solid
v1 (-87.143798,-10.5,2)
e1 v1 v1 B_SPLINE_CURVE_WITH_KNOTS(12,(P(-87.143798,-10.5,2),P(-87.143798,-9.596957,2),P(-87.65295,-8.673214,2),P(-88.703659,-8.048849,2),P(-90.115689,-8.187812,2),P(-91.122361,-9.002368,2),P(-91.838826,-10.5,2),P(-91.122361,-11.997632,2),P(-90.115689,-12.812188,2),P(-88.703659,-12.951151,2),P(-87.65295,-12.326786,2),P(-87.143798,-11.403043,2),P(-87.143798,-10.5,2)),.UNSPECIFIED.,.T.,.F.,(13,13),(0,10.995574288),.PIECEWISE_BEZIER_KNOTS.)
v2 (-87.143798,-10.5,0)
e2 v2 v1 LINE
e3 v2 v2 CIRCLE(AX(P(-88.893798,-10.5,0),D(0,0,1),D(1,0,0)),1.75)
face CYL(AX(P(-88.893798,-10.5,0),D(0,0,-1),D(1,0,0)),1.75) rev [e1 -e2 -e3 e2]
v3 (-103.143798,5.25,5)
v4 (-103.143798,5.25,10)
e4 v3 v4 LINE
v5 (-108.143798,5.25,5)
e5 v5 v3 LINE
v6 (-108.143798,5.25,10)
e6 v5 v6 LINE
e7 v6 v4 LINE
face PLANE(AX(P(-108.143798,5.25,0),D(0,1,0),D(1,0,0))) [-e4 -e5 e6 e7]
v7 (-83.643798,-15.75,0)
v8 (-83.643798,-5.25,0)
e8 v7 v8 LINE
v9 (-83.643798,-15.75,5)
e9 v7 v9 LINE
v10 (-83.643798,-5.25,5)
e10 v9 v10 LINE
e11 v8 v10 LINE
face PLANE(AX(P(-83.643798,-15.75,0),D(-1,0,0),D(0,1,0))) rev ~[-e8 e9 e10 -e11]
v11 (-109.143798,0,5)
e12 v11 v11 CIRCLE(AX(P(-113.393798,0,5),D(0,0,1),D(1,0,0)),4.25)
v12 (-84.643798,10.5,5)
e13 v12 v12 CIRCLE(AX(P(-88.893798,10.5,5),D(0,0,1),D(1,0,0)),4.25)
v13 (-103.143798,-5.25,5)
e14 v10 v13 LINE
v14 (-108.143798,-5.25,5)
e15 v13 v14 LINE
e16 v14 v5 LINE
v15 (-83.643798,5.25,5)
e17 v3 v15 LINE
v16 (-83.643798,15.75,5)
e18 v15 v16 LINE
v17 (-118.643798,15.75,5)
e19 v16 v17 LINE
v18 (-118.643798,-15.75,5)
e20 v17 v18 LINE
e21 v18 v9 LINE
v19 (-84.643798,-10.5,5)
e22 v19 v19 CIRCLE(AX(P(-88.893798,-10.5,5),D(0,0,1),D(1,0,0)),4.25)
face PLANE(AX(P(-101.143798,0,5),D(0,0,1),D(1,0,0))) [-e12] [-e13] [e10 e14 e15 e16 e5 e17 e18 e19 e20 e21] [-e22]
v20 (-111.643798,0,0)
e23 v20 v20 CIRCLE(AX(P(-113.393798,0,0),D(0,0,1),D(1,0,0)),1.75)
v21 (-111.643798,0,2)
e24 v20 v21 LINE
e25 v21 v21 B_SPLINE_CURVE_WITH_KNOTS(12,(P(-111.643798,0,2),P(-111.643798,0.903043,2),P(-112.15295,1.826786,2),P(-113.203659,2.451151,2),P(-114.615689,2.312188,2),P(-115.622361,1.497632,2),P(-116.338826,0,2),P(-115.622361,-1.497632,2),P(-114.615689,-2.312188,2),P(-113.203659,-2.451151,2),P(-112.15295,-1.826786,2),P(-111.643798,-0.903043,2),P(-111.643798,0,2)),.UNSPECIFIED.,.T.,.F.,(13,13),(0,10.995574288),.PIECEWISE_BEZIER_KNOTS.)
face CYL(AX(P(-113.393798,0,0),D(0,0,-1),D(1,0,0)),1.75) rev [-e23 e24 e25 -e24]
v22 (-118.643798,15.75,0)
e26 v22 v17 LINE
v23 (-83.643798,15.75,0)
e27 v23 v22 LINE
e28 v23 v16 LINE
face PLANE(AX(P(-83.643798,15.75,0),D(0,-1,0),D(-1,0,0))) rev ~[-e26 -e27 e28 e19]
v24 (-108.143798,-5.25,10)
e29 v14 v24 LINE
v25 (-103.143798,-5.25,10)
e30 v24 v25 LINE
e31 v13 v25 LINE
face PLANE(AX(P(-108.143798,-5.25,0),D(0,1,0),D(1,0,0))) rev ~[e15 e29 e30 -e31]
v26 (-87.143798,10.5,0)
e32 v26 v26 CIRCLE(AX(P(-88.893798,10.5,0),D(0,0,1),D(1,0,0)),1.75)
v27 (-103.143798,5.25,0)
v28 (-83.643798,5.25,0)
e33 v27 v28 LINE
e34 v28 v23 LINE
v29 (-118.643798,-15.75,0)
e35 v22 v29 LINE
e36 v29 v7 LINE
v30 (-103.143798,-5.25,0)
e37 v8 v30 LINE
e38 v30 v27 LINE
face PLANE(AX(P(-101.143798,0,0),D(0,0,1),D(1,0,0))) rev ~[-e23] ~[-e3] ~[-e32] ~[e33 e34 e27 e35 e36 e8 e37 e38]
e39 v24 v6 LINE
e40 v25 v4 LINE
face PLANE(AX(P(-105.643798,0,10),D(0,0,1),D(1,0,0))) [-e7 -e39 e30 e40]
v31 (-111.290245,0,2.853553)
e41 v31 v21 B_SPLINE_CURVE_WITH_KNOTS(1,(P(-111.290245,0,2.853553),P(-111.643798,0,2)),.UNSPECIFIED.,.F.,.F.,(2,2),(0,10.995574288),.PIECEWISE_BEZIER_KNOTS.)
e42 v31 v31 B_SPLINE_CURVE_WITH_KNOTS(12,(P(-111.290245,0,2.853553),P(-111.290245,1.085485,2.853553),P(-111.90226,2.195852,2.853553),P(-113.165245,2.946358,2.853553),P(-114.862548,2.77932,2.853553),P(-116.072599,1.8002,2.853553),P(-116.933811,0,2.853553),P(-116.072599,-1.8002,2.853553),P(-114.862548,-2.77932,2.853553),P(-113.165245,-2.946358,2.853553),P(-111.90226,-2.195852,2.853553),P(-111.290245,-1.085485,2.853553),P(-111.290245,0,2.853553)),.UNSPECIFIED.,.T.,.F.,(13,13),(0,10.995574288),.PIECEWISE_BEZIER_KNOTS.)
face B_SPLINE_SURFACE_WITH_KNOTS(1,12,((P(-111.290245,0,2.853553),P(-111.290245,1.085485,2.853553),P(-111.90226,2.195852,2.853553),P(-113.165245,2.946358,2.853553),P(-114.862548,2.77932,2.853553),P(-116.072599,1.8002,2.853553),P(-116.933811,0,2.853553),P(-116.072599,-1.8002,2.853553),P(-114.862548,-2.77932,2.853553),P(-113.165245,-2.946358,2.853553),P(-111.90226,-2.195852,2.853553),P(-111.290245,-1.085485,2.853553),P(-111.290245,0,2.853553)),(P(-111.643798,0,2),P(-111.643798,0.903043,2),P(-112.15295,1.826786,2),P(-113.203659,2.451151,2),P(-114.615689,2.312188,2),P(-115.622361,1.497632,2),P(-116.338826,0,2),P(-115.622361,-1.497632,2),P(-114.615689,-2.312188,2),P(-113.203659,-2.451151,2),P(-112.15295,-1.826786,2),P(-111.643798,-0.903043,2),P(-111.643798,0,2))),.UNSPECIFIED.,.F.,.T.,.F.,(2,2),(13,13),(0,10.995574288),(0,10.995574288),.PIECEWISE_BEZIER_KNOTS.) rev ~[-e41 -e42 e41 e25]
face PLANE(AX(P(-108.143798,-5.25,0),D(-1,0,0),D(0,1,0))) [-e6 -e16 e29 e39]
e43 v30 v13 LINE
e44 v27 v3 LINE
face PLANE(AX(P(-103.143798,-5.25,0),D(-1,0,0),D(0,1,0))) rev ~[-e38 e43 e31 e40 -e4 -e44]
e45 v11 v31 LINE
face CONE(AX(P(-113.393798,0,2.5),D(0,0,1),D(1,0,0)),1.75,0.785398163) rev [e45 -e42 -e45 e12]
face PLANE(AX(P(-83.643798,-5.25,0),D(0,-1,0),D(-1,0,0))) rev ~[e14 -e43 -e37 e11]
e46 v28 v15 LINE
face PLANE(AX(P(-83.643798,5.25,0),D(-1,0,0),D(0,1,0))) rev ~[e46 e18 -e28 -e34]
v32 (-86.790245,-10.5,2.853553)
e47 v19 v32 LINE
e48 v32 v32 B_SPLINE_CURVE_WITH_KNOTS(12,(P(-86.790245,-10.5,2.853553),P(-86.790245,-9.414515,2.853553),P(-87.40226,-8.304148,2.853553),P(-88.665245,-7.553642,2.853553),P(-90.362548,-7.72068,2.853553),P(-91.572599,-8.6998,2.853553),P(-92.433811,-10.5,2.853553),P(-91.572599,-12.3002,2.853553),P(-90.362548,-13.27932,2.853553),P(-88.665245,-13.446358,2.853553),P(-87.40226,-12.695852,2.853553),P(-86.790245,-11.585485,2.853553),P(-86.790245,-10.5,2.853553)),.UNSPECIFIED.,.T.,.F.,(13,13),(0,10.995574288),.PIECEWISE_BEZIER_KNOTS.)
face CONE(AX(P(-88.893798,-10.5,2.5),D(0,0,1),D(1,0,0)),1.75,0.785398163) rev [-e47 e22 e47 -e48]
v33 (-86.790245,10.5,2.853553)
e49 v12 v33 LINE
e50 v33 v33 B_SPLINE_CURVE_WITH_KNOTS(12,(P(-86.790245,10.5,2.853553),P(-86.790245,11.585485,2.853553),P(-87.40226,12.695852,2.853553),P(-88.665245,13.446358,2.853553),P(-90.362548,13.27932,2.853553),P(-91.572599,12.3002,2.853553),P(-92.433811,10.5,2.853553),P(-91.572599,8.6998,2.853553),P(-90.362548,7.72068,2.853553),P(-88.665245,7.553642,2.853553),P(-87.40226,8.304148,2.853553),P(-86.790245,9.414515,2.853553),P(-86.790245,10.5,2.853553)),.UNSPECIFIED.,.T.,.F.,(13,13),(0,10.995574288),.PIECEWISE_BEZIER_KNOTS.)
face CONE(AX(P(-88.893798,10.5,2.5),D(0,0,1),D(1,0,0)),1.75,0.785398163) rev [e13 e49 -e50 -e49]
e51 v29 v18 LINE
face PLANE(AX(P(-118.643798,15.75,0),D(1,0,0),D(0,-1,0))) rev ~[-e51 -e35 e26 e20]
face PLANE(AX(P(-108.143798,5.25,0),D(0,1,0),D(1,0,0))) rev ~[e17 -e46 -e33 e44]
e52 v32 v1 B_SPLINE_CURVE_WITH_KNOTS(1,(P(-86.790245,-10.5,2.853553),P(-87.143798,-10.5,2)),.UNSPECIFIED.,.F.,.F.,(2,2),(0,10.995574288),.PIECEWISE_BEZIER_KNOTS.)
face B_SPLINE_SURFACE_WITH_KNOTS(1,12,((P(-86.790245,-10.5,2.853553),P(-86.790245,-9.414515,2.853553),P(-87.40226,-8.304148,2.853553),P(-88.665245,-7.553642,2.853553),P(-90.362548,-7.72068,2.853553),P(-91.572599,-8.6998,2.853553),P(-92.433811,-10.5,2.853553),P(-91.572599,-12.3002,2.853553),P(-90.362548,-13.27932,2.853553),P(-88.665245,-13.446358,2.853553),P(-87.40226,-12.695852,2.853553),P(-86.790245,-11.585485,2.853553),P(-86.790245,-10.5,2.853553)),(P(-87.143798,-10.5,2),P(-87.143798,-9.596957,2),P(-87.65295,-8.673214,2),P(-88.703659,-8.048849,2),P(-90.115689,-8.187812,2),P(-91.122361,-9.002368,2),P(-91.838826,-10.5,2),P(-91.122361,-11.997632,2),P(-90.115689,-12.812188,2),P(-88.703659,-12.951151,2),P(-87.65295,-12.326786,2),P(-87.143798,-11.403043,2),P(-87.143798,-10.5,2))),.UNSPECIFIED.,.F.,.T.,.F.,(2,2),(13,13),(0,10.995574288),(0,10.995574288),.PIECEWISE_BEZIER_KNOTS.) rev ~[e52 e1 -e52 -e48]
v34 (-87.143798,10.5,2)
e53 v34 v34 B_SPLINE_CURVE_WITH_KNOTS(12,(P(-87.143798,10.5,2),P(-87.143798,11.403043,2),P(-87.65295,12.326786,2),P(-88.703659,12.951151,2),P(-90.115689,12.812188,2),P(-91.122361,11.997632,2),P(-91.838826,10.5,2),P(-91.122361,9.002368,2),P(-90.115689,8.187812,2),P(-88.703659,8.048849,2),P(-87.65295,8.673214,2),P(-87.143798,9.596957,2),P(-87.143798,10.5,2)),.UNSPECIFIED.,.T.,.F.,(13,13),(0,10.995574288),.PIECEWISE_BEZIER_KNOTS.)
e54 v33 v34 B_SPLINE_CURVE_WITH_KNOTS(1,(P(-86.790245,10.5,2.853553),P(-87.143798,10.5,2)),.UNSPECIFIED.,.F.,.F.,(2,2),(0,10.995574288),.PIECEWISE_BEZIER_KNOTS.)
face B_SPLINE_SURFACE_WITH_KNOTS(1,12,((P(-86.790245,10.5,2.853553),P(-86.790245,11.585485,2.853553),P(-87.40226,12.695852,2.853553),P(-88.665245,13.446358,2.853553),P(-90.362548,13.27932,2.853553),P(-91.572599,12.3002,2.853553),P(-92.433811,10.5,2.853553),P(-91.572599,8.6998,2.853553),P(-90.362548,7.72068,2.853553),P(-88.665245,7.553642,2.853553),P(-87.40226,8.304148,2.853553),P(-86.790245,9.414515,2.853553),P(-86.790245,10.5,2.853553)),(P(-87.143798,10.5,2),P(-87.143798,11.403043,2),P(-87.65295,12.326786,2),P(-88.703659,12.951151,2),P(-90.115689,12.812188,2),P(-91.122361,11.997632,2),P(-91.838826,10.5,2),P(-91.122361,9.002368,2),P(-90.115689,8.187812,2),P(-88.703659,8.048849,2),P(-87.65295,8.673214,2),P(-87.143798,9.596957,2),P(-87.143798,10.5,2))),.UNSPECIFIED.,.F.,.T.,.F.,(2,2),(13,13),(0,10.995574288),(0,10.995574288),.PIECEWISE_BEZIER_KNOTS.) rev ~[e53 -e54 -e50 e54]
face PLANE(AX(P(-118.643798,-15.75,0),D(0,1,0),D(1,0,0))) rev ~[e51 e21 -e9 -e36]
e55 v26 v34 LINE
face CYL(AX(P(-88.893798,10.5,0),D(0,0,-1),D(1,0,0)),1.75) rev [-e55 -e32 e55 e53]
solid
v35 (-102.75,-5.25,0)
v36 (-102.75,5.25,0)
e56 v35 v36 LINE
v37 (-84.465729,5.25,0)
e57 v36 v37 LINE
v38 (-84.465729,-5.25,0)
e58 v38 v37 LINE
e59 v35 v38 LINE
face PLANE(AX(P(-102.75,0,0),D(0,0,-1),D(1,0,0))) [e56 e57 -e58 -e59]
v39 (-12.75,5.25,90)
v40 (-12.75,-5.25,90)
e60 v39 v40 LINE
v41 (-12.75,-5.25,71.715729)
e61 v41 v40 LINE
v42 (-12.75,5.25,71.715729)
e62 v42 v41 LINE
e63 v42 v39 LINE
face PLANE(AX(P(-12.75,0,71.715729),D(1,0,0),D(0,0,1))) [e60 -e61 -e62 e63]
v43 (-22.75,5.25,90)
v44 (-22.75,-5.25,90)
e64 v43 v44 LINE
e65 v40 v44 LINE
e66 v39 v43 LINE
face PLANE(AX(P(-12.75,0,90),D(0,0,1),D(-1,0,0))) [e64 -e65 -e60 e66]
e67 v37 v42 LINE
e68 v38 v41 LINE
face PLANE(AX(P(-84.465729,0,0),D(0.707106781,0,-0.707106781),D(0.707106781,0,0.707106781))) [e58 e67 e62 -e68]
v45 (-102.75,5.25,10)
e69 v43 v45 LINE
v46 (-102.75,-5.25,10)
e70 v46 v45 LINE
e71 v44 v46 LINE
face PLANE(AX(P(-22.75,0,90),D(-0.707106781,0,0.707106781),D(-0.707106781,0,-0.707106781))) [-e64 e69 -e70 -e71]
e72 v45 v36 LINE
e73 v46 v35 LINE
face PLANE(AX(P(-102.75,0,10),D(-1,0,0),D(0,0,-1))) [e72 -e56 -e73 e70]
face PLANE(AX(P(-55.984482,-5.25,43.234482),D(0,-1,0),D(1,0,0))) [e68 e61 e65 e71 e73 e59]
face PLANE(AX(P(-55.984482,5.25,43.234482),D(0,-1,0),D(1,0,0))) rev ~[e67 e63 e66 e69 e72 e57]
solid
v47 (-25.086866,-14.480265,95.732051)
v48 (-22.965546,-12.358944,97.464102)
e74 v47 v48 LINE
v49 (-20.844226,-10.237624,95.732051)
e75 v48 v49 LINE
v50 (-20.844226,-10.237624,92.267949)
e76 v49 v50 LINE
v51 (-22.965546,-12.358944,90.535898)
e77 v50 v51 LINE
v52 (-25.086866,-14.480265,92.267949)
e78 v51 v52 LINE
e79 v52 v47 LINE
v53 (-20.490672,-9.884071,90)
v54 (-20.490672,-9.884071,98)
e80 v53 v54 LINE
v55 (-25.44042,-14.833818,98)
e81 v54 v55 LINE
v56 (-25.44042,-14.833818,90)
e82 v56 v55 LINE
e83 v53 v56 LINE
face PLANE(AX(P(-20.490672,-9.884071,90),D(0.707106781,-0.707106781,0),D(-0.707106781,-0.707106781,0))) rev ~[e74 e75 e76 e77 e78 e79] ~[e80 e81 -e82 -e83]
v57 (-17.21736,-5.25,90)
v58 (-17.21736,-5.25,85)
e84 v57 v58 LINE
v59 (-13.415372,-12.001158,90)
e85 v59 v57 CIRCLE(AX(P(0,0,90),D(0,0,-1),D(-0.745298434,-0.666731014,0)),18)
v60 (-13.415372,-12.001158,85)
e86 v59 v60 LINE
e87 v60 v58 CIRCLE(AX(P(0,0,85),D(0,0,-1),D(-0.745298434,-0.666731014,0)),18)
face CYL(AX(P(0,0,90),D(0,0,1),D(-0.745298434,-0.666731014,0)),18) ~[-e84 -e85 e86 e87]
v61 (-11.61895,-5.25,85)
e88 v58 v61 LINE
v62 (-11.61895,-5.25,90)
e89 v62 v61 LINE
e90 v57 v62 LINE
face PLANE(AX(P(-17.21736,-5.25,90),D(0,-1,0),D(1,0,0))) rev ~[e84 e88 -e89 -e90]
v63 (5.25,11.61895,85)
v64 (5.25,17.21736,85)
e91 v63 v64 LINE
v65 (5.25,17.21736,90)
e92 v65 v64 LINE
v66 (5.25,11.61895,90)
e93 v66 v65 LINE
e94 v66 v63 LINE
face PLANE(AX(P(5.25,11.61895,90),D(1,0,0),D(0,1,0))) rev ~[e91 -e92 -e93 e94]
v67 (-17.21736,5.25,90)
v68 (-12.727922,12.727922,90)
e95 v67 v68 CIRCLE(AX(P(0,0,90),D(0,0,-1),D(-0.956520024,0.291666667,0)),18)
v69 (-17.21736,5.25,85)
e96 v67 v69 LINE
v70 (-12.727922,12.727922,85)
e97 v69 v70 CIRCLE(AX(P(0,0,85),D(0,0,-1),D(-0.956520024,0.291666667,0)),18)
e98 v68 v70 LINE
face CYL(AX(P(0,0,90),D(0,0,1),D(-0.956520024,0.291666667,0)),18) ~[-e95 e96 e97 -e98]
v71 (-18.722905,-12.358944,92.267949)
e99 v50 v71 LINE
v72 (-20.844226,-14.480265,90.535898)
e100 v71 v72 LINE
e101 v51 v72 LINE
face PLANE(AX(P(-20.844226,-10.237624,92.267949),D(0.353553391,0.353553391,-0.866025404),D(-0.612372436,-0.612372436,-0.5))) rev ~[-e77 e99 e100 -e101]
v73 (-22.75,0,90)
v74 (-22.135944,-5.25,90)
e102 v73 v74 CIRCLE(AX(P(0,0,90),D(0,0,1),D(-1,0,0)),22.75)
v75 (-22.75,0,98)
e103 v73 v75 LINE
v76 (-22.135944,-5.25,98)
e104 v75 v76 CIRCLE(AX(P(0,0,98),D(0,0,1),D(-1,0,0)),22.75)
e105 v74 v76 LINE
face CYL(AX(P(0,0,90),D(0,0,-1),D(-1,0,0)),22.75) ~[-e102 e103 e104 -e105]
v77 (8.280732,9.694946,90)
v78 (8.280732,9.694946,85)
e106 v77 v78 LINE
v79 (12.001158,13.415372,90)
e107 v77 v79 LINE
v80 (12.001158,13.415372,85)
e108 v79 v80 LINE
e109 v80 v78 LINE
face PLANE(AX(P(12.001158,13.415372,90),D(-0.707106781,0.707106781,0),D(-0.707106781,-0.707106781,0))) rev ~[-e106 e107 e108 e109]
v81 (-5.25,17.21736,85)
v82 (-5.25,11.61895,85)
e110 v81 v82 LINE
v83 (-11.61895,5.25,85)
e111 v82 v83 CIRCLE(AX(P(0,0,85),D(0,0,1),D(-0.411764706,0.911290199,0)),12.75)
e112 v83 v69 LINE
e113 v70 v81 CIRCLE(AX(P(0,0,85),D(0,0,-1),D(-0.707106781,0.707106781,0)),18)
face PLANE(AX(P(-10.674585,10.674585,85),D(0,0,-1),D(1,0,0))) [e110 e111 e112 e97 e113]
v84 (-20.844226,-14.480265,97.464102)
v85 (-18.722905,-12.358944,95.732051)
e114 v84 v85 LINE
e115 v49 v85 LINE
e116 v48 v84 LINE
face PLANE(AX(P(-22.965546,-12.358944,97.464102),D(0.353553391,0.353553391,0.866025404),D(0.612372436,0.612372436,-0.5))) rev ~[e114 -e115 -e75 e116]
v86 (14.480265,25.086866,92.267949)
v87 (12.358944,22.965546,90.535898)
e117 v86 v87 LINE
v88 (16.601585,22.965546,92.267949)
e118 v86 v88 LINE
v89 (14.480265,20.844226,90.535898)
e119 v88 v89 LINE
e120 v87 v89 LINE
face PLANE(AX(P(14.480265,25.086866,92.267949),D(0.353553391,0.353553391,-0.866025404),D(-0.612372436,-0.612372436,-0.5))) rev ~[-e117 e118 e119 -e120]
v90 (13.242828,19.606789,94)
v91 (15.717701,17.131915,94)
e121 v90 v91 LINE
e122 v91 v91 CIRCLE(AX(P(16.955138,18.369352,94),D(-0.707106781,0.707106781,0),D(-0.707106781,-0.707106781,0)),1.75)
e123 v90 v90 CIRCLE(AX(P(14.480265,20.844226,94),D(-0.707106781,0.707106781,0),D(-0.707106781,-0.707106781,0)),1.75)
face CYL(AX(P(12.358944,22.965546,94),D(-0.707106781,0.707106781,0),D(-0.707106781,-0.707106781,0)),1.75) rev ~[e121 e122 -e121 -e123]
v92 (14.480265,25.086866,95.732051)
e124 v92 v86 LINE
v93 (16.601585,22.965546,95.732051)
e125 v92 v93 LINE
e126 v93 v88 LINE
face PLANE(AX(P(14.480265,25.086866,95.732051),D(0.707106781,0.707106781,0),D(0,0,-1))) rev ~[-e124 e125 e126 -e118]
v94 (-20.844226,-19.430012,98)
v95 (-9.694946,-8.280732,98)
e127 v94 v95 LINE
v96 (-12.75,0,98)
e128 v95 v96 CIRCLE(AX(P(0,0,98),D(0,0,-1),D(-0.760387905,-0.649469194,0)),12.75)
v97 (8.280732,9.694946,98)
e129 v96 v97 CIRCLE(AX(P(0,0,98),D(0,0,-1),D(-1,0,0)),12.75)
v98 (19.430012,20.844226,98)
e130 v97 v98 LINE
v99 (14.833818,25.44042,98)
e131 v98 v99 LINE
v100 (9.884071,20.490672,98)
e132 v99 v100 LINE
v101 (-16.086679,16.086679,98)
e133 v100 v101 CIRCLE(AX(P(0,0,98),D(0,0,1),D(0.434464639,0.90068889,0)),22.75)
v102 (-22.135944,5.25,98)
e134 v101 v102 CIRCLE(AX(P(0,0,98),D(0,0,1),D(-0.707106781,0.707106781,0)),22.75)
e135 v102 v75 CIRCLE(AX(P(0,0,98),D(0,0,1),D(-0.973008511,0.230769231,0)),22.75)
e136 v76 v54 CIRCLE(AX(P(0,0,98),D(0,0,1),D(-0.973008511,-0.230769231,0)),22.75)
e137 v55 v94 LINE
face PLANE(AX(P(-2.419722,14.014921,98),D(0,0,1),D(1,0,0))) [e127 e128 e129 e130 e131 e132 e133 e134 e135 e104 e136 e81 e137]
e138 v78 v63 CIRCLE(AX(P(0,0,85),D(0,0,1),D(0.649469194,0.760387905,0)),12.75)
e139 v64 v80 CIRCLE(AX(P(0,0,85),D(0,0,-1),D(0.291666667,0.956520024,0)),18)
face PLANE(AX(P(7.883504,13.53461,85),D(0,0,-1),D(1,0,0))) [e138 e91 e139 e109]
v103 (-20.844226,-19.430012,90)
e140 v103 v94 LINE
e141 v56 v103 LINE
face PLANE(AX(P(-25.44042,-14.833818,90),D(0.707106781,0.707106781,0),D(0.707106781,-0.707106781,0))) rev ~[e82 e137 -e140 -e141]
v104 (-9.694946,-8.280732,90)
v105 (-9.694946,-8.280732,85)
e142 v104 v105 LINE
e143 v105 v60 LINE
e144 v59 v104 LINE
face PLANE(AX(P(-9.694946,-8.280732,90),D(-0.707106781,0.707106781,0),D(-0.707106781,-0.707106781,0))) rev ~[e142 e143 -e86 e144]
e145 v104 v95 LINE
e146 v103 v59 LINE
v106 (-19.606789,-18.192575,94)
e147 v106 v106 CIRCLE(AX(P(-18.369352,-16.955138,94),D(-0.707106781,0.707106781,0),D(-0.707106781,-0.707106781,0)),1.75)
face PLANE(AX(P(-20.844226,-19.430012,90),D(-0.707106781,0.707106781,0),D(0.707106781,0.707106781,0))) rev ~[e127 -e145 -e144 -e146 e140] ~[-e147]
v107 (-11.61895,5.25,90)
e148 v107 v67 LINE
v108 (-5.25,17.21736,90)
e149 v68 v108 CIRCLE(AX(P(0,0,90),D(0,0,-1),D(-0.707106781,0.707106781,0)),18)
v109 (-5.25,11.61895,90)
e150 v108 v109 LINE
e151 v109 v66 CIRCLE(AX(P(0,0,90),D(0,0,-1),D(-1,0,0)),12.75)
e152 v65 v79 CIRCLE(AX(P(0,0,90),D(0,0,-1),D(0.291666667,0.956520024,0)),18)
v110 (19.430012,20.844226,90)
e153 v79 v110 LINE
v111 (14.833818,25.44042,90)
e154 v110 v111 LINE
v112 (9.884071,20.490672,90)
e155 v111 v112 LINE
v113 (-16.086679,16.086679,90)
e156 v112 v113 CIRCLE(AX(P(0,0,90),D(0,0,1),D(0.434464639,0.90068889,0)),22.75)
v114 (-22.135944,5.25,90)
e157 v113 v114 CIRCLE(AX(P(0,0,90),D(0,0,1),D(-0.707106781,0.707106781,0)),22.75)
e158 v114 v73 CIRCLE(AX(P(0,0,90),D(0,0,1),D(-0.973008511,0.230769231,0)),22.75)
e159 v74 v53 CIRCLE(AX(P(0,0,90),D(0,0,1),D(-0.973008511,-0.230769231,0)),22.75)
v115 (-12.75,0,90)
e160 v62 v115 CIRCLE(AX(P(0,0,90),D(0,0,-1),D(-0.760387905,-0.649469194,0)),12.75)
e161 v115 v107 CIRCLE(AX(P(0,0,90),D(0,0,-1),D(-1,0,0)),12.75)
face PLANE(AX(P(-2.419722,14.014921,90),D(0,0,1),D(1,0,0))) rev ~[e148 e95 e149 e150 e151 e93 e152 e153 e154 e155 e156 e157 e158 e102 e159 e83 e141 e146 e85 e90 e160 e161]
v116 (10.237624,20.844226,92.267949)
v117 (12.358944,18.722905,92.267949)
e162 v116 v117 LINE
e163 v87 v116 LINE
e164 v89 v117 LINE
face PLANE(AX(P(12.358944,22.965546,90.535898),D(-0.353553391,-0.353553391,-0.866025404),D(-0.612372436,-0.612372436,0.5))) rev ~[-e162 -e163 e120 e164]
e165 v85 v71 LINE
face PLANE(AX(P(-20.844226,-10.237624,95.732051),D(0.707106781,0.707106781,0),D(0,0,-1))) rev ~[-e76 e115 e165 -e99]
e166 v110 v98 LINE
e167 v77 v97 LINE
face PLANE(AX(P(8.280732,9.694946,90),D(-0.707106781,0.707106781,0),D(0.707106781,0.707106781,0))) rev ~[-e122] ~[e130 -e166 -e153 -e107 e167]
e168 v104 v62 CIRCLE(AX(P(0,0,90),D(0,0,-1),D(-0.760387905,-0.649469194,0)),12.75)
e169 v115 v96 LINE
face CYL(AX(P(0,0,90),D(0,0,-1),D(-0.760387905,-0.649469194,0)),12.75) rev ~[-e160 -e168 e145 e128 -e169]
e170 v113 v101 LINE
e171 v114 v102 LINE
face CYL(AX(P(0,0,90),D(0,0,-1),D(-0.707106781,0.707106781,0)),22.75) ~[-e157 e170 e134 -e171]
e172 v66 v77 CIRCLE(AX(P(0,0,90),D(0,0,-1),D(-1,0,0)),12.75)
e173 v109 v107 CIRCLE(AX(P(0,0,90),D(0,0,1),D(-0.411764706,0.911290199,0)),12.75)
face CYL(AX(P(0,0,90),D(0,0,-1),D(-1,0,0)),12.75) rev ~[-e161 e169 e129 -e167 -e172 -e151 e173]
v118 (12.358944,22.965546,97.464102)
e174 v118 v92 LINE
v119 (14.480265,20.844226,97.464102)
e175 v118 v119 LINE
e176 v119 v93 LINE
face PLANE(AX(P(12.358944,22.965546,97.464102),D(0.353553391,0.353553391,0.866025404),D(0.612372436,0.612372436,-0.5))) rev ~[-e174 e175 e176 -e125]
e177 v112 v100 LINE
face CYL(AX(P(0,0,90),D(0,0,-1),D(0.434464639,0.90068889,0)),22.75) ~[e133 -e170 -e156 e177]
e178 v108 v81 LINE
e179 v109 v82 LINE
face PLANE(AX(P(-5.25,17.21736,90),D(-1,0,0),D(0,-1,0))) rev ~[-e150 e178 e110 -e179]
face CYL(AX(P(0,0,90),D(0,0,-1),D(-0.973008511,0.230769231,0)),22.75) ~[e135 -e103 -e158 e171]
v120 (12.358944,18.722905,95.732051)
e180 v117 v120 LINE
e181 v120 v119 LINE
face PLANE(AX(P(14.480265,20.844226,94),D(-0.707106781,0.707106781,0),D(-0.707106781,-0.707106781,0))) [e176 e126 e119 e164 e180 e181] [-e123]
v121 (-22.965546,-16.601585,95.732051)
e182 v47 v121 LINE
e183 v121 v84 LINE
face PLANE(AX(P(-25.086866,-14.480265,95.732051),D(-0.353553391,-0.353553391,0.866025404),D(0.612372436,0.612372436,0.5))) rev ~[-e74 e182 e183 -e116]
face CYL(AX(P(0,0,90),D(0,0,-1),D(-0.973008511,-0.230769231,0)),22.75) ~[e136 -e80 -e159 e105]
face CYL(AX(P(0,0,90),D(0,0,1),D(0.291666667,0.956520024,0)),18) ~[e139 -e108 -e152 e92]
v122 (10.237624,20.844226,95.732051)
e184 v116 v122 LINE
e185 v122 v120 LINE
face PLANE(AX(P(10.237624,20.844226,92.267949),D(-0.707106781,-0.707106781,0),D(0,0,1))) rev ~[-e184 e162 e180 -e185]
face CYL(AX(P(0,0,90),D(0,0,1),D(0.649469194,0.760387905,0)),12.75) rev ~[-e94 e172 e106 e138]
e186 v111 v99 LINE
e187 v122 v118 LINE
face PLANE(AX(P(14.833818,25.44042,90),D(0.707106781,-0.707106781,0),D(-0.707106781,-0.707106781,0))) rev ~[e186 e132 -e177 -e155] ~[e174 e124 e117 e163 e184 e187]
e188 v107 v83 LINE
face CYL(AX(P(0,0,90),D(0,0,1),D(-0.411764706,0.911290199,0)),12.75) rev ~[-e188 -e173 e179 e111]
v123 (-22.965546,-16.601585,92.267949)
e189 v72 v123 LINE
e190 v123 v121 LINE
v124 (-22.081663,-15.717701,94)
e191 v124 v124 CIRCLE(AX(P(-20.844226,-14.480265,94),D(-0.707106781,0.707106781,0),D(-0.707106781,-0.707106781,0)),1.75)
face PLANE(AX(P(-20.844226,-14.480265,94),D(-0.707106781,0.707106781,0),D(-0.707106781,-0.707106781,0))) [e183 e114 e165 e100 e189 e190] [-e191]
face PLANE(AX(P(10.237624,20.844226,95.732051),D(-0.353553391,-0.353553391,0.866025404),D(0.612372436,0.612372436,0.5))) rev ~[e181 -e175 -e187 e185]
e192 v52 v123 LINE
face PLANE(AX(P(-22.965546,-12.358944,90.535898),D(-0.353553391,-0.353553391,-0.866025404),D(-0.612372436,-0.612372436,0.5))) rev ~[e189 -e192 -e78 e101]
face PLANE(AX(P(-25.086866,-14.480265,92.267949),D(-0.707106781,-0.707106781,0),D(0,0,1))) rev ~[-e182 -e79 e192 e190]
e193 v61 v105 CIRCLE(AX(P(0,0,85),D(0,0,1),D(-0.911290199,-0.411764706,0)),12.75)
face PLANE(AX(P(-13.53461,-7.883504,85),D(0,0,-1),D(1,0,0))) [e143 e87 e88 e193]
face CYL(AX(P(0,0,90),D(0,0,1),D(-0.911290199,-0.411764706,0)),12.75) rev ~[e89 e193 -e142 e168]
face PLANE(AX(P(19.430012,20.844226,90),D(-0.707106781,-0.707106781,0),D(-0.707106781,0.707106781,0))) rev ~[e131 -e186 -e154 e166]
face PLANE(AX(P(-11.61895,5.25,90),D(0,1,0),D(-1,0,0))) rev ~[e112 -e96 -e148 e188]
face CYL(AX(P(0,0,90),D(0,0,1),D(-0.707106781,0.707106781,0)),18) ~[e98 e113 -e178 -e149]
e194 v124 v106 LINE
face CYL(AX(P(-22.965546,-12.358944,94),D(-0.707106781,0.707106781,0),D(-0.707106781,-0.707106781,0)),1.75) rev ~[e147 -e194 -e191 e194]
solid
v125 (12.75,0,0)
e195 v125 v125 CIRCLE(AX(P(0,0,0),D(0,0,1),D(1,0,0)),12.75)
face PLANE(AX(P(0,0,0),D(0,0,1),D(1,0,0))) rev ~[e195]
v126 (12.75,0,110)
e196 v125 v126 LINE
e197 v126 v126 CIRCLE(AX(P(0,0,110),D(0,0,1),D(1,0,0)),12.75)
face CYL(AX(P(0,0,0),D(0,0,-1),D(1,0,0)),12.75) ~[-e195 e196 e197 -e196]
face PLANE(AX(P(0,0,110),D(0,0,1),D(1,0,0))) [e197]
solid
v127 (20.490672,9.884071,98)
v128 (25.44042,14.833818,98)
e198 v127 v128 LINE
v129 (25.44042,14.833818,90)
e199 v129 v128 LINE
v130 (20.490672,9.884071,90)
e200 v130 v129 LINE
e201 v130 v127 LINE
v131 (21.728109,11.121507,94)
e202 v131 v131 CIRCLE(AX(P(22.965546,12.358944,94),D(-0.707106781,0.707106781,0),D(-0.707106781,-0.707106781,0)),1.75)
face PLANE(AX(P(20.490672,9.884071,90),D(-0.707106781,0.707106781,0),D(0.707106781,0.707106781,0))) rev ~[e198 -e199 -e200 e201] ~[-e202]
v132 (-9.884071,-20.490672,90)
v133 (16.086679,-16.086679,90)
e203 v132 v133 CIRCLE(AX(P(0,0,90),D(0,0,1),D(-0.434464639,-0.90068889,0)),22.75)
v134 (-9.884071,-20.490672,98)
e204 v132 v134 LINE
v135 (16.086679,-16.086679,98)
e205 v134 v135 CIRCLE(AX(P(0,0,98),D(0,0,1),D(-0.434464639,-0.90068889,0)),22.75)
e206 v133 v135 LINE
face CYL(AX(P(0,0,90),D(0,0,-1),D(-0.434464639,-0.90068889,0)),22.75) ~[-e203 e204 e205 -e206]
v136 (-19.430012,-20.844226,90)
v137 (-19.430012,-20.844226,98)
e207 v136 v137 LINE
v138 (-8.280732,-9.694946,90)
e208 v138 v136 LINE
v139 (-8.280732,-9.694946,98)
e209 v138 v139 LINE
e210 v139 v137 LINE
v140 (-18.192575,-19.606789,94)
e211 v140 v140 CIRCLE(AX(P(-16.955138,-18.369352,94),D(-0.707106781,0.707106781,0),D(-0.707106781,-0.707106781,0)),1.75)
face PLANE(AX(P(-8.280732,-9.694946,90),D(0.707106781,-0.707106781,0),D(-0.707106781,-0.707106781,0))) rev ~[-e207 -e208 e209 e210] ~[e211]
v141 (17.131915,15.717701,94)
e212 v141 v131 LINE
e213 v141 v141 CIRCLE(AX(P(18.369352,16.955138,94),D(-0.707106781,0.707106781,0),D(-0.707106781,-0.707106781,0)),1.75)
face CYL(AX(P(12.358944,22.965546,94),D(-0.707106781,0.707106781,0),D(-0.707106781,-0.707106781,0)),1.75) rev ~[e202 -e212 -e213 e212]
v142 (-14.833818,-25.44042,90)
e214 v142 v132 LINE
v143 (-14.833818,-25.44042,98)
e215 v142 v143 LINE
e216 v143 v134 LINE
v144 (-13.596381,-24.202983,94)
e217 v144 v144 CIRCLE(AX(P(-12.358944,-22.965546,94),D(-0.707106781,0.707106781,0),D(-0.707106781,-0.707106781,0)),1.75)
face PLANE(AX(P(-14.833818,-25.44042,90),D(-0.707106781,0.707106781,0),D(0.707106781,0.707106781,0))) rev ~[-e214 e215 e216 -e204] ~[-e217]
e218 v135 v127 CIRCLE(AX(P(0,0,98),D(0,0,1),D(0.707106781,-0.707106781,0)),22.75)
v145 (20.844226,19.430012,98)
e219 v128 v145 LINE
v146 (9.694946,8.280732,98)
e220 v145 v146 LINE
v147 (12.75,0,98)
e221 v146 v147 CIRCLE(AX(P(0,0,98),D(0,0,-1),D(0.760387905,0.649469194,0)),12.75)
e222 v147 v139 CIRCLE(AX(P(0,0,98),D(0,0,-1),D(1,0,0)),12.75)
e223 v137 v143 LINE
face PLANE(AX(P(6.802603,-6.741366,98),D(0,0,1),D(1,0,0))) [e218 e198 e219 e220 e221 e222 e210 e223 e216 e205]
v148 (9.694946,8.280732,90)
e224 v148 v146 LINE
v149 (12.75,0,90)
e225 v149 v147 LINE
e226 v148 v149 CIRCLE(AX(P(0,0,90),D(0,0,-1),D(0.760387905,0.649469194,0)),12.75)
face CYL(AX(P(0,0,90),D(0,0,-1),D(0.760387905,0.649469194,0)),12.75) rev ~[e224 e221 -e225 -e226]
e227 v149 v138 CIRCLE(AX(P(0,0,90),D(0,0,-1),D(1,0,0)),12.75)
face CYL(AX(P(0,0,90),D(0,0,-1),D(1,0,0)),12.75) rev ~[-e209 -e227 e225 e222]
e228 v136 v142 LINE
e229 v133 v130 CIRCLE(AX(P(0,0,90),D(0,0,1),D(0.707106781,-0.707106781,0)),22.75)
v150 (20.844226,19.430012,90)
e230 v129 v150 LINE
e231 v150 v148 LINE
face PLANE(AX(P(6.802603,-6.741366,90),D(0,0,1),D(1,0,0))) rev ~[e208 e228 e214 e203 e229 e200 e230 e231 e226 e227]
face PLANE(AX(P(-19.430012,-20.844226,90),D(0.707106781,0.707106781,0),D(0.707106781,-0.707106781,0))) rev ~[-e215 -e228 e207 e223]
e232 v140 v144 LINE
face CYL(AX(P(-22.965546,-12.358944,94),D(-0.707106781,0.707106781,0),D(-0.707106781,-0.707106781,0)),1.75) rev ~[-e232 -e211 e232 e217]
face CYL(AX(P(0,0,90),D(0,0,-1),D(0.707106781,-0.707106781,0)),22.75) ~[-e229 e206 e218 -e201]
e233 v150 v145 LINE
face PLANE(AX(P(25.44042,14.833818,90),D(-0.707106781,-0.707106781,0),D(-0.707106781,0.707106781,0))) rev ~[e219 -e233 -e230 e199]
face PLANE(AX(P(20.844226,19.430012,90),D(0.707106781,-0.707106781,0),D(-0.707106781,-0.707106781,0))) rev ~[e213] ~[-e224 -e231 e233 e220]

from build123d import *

# Parameters (mm, degrees)
F0_R      = 1.75
F1_DEPTH  = 5
F0_W      = 5
F0_H      = 10.5
F2_DEPTH  = 10
F3_SIZE   = 2.5
F4_SIZE   = 0.5
F0_R_2    = 12.75
F5_DEPTH  = 110
F7_DEPTH  = 5.25
F9_DEPTH  = 8
F11_DEPTH = 5
F12_R     = 1.75
F13_DEPTH = 3
F14_DEPTH = 43.4791866087


with BuildPart() as f1:
    # F0 (on Top) → F1 (new body)
    with BuildSketch(Plane.XY):
        Polygon((-83.6437979341, 5.25), (-83.6437979341, 15.75), (-118.6437979341, 15.75), (-118.6437979341, -15.75), (-83.6437979341, -15.75), (-83.6437979341, -5.25), (-103.1437979341, -5.25), (-108.1437979341, -5.25), (-108.1437979341, 5.25), (-103.1437979341, 5.25), align=None)
        with Locations((-88.8937979341, -10.5)):
            Circle(F0_R, mode=Mode.SUBTRACT)
        with Locations((-113.3937979341, 0)):
            Circle(F0_R, mode=Mode.SUBTRACT)
        with Locations((-88.8937979341, 10.5)):
            Circle(F0_R, mode=Mode.SUBTRACT)
    extrude(amount=F1_DEPTH)

    # F0 (on Top) → F2 (join)
    with BuildSketch(Plane.XY):
        with Locations((-105.6437979341, 0)):
            Rectangle(F0_W, F0_H)
    extrude(amount=F2_DEPTH)

    # F3
    f3_edges = [f1.edges().sort_by_distance(p)[0] for p in [
        (-115.143798, 0, 5),
        (-90.643798, 10.5, 5),
        (-90.643798, -10.5, 5),
    ]]
    chamfer(f3_edges, length=F3_SIZE)

    # F4
    f4_edges = [f1.edges().sort_by_distance(p)[0] for p in [
        (-115.143798, 0, 2.5),
        (-90.643798, 10.5, 2.5),
        (-90.643798, -10.5, 2.5),
    ]]
    chamfer(f4_edges, length=F4_SIZE)


with BuildPart() as f5:
    # F0 (on Top) → F5 (new body)
    with BuildSketch(Plane.XY):
        Circle(F0_R_2)
    extrude(amount=F5_DEPTH)


with BuildPart() as f7:
    # F6 (on Front) → F7 (new body, symmetric)
    with BuildSketch(Plane.XZ):
        Polygon((-84.4657287525, 0), (-12.75, 71.7157287525), (-12.75, 90), (-22.75, 90), (-102.75, 10), (-102.75, 0), align=None)
    extrude(amount=F7_DEPTH, both=True)


with BuildPart() as f9:
    # F8 (on face) → F9 (new body)
    with BuildSketch(Plane.XY.offset(90)):
        with BuildLine():
            ThreePointArc((-12.75, 0), (-5.337750656, 11.5788996858), (8.2807322249, 9.6949457873))
            Line((8.2807322249, 9.6949457873), (19.4300120858, 20.8442256481))
            Line((19.4300120858, 20.8442256481), (14.833818008, 25.4404197258))
            Line((14.833818008, 25.4404197258), (9.8840705397, 20.4906722575))
            ThreePointArc((9.8840705397, 20.4906722575), (-3.8035348461, 22.4297931929), (-16.086679272, 16.086679272))
            ThreePointArc((-16.086679272, 16.086679272), (-19.8645571212, 11.0888173572), (-22.1359436212, 5.25))
            Line((-22.1359436212, 5.25), (-12.75, 5.25))
            Line((-12.75, 5.25), (-12.75, 0))
        make_face()
        with BuildLine():
            Line((-12.75, -5.25), (-12.75, 0))
            Line((-12.75, 0), (-12.75, 5.25))
            Line((-12.75, 5.25), (-22.1359436212, 5.25))
            ThreePointArc((-22.1359436212, 5.25), (-22.5959644337, 2.6428944945), (-22.75, 0))
            ThreePointArc((-22.75, 0), (-22.5959644337, -2.6428944945), (-22.1359436212, -5.25))
            Line((-22.1359436212, -5.25), (-12.75, -5.25))
        make_face()
        with BuildLine():
            Line((-20.8442256481, -19.4300120858), (-9.6949457873, -8.2807322249))
            ThreePointArc((-9.6949457873, -8.2807322249), (-11.9618781717, -4.4131588013), (-12.75, 0))
            Line((-12.75, 0), (-12.75, -5.25))
            Line((-12.75, -5.25), (-22.1359436212, -5.25))
            ThreePointArc((-22.1359436212, -5.25), (-21.4388840139, -7.6116195544), (-20.4906722575, -9.8840705397))
            Line((-20.4906722575, -9.8840705397), (-25.4404197258, -14.833818008))
            Line((-25.4404197258, -14.833818008), (-20.8442256481, -19.4300120858))
        make_face()
    extrude(amount=F9_DEPTH)

    # F10 (on face) → F11 (join)
    with BuildSketch(Plane(origin=(0, 0, 90), x_dir=(1, 0, 0), z_dir=(0, 0, -1))):
        with BuildLine():
            Line((-12.75, 5.25), (-11.6189500386, 5.25))
            ThreePointArc((-11.6189500386, 5.25), (-10.764147587, 6.8334198412), (-9.6949457873, 8.2807322249))
            Line((-9.6949457873, 8.2807322249), (-13.4153718083, 12.001158246))
            ThreePointArc((-13.4153718083, 12.001158246), (-15.6839282526, 8.8325757606), (-17.2173604249, 5.25))
            Line((-17.2173604249, 5.25), (-12.75, 5.25))
        make_face()
        with BuildLine():
            Line((-11.6189500386, -5.25), (-12.75, -5.25))
            Line((-12.75, -5.25), (-17.2173604249, -5.25))
            ThreePointArc((-17.2173604249, -5.25), (-15.4324273977, -9.2649978206), (-12.7279220614, -12.7279220614))
            ThreePointArc((-12.7279220614, -12.7279220614), (-9.2649978206, -15.4324273977), (-5.25, -17.2173604249))
            Line((-5.25, -17.2173604249), (-5.25, -12.75))
            Line((-5.25, -12.75), (-5.25, -11.6189500386))
            ThreePointArc((-5.25, -11.6189500386), (-9.0156114601, -9.0156114601), (-11.6189500386, -5.25))
        make_face()
        with BuildLine():
            ThreePointArc((8.2807322249, -9.6949457873), (6.8334198412, -10.764147587), (5.25, -11.6189500386))
            Line((5.25, -11.6189500386), (5.25, -12.75))
            Line((5.25, -12.75), (5.25, -17.2173604249))
            ThreePointArc((5.25, -17.2173604249), (8.8325757606, -15.6839282526), (12.001158246, -13.4153718083))
            Line((12.001158246, -13.4153718083), (8.2807322249, -9.6949457873))
        make_face()
    extrude(amount=F11_DEPTH)

    # F12 (on face) → F13 (cut)
    with BuildSketch(Plane(origin=(-5.3033008589, 5.3033008589, 0), x_dir=(-0.7071067812, -0.7071067812, 0), z_dir=(-0.7071067812, 0.7071067812, 0))):
        Polygon((-27.9781866087, 95.7320508076), (-27.9781866087, 92.2679491924), (-24.9781866087, 90.5358983849), (-21.9781866087, 92.2679491924), (-21.9781866087, 95.7320508076), (-24.9781866087, 97.4641016151), align=None)
        with Locations((-24.9781866087, 94)):
            Circle(F12_R, mode=Mode.SUBTRACT)
        Polygon((21.9781866087, 95.7320508076), (21.9781866087, 92.2679491924), (24.9781866087, 90.5358983849), (27.9781866087, 92.2679491924), (27.9781866087, 95.7320508076), (24.9781866087, 97.4641016151), align=None)
        with Locations((24.9781866087, 94)):
            Circle(F12_R, mode=Mode.SUBTRACT)
    extrude(amount=-F13_DEPTH, mode=Mode.SUBTRACT)


with BuildPart() as f9b:
    # F8 (on face) → F9, piece 2 (new body)
    with BuildSketch(Plane.XY.offset(90)):
        with BuildLine():
            ThreePointArc((9.6949457873, 8.2807322249), (11.9618781717, 4.4131588013), (12.75, 0))
            ThreePointArc((12.75, 0), (5.337750656, -11.5788996858), (-8.2807322249, -9.6949457873))
            Line((-8.2807322249, -9.6949457873), (-19.4300120858, -20.8442256481))
            Line((-19.4300120858, -20.8442256481), (-14.833818008, -25.4404197258))
            Line((-14.833818008, -25.4404197258), (-9.8840705397, -20.4906722575))
            ThreePointArc((-9.8840705397, -20.4906722575), (3.8035348461, -22.4297931929), (16.086679272, -16.086679272))
            ThreePointArc((16.086679272, -16.086679272), (22.4297931929, -3.8035348461), (20.4906722575, 9.8840705397))
            Line((20.4906722575, 9.8840705397), (25.4404197258, 14.833818008))
            Line((25.4404197258, 14.833818008), (20.8442256481, 19.4300120858))
            Line((20.8442256481, 19.4300120858), (9.6949457873, 8.2807322249))
        make_face()
    extrude(amount=F9_DEPTH)


with BuildPart() as f14_tool:
    # F12 (on face) → F14 (new body, through all)
    with BuildSketch(Plane(origin=(-5.3033008589, 5.3033008589, 0), x_dir=(-0.7071067812, -0.7071067812, 0), z_dir=(-0.7071067812, 0.7071067812, 0))):
        with Locations((-24.9781866087, 94)):
            Circle(F12_R)
        with Locations((24.9781866087, 94)):
            Circle(F12_R)
    extrude(amount=-F14_DEPTH)


with BuildPart() as f9_1:
    add(f9.part)

    # F14: cut by f14_tool
    add(f14_tool.part, mode=Mode.SUBTRACT)


with BuildPart() as f9b_1:
    add(f9b.part)

    # F14: cut by f14_tool
    add(f14_tool.part, mode=Mode.SUBTRACT)


solid = Compound([f1.part, f5.part, f7.part, f9_1.part, f9b_1.part])
